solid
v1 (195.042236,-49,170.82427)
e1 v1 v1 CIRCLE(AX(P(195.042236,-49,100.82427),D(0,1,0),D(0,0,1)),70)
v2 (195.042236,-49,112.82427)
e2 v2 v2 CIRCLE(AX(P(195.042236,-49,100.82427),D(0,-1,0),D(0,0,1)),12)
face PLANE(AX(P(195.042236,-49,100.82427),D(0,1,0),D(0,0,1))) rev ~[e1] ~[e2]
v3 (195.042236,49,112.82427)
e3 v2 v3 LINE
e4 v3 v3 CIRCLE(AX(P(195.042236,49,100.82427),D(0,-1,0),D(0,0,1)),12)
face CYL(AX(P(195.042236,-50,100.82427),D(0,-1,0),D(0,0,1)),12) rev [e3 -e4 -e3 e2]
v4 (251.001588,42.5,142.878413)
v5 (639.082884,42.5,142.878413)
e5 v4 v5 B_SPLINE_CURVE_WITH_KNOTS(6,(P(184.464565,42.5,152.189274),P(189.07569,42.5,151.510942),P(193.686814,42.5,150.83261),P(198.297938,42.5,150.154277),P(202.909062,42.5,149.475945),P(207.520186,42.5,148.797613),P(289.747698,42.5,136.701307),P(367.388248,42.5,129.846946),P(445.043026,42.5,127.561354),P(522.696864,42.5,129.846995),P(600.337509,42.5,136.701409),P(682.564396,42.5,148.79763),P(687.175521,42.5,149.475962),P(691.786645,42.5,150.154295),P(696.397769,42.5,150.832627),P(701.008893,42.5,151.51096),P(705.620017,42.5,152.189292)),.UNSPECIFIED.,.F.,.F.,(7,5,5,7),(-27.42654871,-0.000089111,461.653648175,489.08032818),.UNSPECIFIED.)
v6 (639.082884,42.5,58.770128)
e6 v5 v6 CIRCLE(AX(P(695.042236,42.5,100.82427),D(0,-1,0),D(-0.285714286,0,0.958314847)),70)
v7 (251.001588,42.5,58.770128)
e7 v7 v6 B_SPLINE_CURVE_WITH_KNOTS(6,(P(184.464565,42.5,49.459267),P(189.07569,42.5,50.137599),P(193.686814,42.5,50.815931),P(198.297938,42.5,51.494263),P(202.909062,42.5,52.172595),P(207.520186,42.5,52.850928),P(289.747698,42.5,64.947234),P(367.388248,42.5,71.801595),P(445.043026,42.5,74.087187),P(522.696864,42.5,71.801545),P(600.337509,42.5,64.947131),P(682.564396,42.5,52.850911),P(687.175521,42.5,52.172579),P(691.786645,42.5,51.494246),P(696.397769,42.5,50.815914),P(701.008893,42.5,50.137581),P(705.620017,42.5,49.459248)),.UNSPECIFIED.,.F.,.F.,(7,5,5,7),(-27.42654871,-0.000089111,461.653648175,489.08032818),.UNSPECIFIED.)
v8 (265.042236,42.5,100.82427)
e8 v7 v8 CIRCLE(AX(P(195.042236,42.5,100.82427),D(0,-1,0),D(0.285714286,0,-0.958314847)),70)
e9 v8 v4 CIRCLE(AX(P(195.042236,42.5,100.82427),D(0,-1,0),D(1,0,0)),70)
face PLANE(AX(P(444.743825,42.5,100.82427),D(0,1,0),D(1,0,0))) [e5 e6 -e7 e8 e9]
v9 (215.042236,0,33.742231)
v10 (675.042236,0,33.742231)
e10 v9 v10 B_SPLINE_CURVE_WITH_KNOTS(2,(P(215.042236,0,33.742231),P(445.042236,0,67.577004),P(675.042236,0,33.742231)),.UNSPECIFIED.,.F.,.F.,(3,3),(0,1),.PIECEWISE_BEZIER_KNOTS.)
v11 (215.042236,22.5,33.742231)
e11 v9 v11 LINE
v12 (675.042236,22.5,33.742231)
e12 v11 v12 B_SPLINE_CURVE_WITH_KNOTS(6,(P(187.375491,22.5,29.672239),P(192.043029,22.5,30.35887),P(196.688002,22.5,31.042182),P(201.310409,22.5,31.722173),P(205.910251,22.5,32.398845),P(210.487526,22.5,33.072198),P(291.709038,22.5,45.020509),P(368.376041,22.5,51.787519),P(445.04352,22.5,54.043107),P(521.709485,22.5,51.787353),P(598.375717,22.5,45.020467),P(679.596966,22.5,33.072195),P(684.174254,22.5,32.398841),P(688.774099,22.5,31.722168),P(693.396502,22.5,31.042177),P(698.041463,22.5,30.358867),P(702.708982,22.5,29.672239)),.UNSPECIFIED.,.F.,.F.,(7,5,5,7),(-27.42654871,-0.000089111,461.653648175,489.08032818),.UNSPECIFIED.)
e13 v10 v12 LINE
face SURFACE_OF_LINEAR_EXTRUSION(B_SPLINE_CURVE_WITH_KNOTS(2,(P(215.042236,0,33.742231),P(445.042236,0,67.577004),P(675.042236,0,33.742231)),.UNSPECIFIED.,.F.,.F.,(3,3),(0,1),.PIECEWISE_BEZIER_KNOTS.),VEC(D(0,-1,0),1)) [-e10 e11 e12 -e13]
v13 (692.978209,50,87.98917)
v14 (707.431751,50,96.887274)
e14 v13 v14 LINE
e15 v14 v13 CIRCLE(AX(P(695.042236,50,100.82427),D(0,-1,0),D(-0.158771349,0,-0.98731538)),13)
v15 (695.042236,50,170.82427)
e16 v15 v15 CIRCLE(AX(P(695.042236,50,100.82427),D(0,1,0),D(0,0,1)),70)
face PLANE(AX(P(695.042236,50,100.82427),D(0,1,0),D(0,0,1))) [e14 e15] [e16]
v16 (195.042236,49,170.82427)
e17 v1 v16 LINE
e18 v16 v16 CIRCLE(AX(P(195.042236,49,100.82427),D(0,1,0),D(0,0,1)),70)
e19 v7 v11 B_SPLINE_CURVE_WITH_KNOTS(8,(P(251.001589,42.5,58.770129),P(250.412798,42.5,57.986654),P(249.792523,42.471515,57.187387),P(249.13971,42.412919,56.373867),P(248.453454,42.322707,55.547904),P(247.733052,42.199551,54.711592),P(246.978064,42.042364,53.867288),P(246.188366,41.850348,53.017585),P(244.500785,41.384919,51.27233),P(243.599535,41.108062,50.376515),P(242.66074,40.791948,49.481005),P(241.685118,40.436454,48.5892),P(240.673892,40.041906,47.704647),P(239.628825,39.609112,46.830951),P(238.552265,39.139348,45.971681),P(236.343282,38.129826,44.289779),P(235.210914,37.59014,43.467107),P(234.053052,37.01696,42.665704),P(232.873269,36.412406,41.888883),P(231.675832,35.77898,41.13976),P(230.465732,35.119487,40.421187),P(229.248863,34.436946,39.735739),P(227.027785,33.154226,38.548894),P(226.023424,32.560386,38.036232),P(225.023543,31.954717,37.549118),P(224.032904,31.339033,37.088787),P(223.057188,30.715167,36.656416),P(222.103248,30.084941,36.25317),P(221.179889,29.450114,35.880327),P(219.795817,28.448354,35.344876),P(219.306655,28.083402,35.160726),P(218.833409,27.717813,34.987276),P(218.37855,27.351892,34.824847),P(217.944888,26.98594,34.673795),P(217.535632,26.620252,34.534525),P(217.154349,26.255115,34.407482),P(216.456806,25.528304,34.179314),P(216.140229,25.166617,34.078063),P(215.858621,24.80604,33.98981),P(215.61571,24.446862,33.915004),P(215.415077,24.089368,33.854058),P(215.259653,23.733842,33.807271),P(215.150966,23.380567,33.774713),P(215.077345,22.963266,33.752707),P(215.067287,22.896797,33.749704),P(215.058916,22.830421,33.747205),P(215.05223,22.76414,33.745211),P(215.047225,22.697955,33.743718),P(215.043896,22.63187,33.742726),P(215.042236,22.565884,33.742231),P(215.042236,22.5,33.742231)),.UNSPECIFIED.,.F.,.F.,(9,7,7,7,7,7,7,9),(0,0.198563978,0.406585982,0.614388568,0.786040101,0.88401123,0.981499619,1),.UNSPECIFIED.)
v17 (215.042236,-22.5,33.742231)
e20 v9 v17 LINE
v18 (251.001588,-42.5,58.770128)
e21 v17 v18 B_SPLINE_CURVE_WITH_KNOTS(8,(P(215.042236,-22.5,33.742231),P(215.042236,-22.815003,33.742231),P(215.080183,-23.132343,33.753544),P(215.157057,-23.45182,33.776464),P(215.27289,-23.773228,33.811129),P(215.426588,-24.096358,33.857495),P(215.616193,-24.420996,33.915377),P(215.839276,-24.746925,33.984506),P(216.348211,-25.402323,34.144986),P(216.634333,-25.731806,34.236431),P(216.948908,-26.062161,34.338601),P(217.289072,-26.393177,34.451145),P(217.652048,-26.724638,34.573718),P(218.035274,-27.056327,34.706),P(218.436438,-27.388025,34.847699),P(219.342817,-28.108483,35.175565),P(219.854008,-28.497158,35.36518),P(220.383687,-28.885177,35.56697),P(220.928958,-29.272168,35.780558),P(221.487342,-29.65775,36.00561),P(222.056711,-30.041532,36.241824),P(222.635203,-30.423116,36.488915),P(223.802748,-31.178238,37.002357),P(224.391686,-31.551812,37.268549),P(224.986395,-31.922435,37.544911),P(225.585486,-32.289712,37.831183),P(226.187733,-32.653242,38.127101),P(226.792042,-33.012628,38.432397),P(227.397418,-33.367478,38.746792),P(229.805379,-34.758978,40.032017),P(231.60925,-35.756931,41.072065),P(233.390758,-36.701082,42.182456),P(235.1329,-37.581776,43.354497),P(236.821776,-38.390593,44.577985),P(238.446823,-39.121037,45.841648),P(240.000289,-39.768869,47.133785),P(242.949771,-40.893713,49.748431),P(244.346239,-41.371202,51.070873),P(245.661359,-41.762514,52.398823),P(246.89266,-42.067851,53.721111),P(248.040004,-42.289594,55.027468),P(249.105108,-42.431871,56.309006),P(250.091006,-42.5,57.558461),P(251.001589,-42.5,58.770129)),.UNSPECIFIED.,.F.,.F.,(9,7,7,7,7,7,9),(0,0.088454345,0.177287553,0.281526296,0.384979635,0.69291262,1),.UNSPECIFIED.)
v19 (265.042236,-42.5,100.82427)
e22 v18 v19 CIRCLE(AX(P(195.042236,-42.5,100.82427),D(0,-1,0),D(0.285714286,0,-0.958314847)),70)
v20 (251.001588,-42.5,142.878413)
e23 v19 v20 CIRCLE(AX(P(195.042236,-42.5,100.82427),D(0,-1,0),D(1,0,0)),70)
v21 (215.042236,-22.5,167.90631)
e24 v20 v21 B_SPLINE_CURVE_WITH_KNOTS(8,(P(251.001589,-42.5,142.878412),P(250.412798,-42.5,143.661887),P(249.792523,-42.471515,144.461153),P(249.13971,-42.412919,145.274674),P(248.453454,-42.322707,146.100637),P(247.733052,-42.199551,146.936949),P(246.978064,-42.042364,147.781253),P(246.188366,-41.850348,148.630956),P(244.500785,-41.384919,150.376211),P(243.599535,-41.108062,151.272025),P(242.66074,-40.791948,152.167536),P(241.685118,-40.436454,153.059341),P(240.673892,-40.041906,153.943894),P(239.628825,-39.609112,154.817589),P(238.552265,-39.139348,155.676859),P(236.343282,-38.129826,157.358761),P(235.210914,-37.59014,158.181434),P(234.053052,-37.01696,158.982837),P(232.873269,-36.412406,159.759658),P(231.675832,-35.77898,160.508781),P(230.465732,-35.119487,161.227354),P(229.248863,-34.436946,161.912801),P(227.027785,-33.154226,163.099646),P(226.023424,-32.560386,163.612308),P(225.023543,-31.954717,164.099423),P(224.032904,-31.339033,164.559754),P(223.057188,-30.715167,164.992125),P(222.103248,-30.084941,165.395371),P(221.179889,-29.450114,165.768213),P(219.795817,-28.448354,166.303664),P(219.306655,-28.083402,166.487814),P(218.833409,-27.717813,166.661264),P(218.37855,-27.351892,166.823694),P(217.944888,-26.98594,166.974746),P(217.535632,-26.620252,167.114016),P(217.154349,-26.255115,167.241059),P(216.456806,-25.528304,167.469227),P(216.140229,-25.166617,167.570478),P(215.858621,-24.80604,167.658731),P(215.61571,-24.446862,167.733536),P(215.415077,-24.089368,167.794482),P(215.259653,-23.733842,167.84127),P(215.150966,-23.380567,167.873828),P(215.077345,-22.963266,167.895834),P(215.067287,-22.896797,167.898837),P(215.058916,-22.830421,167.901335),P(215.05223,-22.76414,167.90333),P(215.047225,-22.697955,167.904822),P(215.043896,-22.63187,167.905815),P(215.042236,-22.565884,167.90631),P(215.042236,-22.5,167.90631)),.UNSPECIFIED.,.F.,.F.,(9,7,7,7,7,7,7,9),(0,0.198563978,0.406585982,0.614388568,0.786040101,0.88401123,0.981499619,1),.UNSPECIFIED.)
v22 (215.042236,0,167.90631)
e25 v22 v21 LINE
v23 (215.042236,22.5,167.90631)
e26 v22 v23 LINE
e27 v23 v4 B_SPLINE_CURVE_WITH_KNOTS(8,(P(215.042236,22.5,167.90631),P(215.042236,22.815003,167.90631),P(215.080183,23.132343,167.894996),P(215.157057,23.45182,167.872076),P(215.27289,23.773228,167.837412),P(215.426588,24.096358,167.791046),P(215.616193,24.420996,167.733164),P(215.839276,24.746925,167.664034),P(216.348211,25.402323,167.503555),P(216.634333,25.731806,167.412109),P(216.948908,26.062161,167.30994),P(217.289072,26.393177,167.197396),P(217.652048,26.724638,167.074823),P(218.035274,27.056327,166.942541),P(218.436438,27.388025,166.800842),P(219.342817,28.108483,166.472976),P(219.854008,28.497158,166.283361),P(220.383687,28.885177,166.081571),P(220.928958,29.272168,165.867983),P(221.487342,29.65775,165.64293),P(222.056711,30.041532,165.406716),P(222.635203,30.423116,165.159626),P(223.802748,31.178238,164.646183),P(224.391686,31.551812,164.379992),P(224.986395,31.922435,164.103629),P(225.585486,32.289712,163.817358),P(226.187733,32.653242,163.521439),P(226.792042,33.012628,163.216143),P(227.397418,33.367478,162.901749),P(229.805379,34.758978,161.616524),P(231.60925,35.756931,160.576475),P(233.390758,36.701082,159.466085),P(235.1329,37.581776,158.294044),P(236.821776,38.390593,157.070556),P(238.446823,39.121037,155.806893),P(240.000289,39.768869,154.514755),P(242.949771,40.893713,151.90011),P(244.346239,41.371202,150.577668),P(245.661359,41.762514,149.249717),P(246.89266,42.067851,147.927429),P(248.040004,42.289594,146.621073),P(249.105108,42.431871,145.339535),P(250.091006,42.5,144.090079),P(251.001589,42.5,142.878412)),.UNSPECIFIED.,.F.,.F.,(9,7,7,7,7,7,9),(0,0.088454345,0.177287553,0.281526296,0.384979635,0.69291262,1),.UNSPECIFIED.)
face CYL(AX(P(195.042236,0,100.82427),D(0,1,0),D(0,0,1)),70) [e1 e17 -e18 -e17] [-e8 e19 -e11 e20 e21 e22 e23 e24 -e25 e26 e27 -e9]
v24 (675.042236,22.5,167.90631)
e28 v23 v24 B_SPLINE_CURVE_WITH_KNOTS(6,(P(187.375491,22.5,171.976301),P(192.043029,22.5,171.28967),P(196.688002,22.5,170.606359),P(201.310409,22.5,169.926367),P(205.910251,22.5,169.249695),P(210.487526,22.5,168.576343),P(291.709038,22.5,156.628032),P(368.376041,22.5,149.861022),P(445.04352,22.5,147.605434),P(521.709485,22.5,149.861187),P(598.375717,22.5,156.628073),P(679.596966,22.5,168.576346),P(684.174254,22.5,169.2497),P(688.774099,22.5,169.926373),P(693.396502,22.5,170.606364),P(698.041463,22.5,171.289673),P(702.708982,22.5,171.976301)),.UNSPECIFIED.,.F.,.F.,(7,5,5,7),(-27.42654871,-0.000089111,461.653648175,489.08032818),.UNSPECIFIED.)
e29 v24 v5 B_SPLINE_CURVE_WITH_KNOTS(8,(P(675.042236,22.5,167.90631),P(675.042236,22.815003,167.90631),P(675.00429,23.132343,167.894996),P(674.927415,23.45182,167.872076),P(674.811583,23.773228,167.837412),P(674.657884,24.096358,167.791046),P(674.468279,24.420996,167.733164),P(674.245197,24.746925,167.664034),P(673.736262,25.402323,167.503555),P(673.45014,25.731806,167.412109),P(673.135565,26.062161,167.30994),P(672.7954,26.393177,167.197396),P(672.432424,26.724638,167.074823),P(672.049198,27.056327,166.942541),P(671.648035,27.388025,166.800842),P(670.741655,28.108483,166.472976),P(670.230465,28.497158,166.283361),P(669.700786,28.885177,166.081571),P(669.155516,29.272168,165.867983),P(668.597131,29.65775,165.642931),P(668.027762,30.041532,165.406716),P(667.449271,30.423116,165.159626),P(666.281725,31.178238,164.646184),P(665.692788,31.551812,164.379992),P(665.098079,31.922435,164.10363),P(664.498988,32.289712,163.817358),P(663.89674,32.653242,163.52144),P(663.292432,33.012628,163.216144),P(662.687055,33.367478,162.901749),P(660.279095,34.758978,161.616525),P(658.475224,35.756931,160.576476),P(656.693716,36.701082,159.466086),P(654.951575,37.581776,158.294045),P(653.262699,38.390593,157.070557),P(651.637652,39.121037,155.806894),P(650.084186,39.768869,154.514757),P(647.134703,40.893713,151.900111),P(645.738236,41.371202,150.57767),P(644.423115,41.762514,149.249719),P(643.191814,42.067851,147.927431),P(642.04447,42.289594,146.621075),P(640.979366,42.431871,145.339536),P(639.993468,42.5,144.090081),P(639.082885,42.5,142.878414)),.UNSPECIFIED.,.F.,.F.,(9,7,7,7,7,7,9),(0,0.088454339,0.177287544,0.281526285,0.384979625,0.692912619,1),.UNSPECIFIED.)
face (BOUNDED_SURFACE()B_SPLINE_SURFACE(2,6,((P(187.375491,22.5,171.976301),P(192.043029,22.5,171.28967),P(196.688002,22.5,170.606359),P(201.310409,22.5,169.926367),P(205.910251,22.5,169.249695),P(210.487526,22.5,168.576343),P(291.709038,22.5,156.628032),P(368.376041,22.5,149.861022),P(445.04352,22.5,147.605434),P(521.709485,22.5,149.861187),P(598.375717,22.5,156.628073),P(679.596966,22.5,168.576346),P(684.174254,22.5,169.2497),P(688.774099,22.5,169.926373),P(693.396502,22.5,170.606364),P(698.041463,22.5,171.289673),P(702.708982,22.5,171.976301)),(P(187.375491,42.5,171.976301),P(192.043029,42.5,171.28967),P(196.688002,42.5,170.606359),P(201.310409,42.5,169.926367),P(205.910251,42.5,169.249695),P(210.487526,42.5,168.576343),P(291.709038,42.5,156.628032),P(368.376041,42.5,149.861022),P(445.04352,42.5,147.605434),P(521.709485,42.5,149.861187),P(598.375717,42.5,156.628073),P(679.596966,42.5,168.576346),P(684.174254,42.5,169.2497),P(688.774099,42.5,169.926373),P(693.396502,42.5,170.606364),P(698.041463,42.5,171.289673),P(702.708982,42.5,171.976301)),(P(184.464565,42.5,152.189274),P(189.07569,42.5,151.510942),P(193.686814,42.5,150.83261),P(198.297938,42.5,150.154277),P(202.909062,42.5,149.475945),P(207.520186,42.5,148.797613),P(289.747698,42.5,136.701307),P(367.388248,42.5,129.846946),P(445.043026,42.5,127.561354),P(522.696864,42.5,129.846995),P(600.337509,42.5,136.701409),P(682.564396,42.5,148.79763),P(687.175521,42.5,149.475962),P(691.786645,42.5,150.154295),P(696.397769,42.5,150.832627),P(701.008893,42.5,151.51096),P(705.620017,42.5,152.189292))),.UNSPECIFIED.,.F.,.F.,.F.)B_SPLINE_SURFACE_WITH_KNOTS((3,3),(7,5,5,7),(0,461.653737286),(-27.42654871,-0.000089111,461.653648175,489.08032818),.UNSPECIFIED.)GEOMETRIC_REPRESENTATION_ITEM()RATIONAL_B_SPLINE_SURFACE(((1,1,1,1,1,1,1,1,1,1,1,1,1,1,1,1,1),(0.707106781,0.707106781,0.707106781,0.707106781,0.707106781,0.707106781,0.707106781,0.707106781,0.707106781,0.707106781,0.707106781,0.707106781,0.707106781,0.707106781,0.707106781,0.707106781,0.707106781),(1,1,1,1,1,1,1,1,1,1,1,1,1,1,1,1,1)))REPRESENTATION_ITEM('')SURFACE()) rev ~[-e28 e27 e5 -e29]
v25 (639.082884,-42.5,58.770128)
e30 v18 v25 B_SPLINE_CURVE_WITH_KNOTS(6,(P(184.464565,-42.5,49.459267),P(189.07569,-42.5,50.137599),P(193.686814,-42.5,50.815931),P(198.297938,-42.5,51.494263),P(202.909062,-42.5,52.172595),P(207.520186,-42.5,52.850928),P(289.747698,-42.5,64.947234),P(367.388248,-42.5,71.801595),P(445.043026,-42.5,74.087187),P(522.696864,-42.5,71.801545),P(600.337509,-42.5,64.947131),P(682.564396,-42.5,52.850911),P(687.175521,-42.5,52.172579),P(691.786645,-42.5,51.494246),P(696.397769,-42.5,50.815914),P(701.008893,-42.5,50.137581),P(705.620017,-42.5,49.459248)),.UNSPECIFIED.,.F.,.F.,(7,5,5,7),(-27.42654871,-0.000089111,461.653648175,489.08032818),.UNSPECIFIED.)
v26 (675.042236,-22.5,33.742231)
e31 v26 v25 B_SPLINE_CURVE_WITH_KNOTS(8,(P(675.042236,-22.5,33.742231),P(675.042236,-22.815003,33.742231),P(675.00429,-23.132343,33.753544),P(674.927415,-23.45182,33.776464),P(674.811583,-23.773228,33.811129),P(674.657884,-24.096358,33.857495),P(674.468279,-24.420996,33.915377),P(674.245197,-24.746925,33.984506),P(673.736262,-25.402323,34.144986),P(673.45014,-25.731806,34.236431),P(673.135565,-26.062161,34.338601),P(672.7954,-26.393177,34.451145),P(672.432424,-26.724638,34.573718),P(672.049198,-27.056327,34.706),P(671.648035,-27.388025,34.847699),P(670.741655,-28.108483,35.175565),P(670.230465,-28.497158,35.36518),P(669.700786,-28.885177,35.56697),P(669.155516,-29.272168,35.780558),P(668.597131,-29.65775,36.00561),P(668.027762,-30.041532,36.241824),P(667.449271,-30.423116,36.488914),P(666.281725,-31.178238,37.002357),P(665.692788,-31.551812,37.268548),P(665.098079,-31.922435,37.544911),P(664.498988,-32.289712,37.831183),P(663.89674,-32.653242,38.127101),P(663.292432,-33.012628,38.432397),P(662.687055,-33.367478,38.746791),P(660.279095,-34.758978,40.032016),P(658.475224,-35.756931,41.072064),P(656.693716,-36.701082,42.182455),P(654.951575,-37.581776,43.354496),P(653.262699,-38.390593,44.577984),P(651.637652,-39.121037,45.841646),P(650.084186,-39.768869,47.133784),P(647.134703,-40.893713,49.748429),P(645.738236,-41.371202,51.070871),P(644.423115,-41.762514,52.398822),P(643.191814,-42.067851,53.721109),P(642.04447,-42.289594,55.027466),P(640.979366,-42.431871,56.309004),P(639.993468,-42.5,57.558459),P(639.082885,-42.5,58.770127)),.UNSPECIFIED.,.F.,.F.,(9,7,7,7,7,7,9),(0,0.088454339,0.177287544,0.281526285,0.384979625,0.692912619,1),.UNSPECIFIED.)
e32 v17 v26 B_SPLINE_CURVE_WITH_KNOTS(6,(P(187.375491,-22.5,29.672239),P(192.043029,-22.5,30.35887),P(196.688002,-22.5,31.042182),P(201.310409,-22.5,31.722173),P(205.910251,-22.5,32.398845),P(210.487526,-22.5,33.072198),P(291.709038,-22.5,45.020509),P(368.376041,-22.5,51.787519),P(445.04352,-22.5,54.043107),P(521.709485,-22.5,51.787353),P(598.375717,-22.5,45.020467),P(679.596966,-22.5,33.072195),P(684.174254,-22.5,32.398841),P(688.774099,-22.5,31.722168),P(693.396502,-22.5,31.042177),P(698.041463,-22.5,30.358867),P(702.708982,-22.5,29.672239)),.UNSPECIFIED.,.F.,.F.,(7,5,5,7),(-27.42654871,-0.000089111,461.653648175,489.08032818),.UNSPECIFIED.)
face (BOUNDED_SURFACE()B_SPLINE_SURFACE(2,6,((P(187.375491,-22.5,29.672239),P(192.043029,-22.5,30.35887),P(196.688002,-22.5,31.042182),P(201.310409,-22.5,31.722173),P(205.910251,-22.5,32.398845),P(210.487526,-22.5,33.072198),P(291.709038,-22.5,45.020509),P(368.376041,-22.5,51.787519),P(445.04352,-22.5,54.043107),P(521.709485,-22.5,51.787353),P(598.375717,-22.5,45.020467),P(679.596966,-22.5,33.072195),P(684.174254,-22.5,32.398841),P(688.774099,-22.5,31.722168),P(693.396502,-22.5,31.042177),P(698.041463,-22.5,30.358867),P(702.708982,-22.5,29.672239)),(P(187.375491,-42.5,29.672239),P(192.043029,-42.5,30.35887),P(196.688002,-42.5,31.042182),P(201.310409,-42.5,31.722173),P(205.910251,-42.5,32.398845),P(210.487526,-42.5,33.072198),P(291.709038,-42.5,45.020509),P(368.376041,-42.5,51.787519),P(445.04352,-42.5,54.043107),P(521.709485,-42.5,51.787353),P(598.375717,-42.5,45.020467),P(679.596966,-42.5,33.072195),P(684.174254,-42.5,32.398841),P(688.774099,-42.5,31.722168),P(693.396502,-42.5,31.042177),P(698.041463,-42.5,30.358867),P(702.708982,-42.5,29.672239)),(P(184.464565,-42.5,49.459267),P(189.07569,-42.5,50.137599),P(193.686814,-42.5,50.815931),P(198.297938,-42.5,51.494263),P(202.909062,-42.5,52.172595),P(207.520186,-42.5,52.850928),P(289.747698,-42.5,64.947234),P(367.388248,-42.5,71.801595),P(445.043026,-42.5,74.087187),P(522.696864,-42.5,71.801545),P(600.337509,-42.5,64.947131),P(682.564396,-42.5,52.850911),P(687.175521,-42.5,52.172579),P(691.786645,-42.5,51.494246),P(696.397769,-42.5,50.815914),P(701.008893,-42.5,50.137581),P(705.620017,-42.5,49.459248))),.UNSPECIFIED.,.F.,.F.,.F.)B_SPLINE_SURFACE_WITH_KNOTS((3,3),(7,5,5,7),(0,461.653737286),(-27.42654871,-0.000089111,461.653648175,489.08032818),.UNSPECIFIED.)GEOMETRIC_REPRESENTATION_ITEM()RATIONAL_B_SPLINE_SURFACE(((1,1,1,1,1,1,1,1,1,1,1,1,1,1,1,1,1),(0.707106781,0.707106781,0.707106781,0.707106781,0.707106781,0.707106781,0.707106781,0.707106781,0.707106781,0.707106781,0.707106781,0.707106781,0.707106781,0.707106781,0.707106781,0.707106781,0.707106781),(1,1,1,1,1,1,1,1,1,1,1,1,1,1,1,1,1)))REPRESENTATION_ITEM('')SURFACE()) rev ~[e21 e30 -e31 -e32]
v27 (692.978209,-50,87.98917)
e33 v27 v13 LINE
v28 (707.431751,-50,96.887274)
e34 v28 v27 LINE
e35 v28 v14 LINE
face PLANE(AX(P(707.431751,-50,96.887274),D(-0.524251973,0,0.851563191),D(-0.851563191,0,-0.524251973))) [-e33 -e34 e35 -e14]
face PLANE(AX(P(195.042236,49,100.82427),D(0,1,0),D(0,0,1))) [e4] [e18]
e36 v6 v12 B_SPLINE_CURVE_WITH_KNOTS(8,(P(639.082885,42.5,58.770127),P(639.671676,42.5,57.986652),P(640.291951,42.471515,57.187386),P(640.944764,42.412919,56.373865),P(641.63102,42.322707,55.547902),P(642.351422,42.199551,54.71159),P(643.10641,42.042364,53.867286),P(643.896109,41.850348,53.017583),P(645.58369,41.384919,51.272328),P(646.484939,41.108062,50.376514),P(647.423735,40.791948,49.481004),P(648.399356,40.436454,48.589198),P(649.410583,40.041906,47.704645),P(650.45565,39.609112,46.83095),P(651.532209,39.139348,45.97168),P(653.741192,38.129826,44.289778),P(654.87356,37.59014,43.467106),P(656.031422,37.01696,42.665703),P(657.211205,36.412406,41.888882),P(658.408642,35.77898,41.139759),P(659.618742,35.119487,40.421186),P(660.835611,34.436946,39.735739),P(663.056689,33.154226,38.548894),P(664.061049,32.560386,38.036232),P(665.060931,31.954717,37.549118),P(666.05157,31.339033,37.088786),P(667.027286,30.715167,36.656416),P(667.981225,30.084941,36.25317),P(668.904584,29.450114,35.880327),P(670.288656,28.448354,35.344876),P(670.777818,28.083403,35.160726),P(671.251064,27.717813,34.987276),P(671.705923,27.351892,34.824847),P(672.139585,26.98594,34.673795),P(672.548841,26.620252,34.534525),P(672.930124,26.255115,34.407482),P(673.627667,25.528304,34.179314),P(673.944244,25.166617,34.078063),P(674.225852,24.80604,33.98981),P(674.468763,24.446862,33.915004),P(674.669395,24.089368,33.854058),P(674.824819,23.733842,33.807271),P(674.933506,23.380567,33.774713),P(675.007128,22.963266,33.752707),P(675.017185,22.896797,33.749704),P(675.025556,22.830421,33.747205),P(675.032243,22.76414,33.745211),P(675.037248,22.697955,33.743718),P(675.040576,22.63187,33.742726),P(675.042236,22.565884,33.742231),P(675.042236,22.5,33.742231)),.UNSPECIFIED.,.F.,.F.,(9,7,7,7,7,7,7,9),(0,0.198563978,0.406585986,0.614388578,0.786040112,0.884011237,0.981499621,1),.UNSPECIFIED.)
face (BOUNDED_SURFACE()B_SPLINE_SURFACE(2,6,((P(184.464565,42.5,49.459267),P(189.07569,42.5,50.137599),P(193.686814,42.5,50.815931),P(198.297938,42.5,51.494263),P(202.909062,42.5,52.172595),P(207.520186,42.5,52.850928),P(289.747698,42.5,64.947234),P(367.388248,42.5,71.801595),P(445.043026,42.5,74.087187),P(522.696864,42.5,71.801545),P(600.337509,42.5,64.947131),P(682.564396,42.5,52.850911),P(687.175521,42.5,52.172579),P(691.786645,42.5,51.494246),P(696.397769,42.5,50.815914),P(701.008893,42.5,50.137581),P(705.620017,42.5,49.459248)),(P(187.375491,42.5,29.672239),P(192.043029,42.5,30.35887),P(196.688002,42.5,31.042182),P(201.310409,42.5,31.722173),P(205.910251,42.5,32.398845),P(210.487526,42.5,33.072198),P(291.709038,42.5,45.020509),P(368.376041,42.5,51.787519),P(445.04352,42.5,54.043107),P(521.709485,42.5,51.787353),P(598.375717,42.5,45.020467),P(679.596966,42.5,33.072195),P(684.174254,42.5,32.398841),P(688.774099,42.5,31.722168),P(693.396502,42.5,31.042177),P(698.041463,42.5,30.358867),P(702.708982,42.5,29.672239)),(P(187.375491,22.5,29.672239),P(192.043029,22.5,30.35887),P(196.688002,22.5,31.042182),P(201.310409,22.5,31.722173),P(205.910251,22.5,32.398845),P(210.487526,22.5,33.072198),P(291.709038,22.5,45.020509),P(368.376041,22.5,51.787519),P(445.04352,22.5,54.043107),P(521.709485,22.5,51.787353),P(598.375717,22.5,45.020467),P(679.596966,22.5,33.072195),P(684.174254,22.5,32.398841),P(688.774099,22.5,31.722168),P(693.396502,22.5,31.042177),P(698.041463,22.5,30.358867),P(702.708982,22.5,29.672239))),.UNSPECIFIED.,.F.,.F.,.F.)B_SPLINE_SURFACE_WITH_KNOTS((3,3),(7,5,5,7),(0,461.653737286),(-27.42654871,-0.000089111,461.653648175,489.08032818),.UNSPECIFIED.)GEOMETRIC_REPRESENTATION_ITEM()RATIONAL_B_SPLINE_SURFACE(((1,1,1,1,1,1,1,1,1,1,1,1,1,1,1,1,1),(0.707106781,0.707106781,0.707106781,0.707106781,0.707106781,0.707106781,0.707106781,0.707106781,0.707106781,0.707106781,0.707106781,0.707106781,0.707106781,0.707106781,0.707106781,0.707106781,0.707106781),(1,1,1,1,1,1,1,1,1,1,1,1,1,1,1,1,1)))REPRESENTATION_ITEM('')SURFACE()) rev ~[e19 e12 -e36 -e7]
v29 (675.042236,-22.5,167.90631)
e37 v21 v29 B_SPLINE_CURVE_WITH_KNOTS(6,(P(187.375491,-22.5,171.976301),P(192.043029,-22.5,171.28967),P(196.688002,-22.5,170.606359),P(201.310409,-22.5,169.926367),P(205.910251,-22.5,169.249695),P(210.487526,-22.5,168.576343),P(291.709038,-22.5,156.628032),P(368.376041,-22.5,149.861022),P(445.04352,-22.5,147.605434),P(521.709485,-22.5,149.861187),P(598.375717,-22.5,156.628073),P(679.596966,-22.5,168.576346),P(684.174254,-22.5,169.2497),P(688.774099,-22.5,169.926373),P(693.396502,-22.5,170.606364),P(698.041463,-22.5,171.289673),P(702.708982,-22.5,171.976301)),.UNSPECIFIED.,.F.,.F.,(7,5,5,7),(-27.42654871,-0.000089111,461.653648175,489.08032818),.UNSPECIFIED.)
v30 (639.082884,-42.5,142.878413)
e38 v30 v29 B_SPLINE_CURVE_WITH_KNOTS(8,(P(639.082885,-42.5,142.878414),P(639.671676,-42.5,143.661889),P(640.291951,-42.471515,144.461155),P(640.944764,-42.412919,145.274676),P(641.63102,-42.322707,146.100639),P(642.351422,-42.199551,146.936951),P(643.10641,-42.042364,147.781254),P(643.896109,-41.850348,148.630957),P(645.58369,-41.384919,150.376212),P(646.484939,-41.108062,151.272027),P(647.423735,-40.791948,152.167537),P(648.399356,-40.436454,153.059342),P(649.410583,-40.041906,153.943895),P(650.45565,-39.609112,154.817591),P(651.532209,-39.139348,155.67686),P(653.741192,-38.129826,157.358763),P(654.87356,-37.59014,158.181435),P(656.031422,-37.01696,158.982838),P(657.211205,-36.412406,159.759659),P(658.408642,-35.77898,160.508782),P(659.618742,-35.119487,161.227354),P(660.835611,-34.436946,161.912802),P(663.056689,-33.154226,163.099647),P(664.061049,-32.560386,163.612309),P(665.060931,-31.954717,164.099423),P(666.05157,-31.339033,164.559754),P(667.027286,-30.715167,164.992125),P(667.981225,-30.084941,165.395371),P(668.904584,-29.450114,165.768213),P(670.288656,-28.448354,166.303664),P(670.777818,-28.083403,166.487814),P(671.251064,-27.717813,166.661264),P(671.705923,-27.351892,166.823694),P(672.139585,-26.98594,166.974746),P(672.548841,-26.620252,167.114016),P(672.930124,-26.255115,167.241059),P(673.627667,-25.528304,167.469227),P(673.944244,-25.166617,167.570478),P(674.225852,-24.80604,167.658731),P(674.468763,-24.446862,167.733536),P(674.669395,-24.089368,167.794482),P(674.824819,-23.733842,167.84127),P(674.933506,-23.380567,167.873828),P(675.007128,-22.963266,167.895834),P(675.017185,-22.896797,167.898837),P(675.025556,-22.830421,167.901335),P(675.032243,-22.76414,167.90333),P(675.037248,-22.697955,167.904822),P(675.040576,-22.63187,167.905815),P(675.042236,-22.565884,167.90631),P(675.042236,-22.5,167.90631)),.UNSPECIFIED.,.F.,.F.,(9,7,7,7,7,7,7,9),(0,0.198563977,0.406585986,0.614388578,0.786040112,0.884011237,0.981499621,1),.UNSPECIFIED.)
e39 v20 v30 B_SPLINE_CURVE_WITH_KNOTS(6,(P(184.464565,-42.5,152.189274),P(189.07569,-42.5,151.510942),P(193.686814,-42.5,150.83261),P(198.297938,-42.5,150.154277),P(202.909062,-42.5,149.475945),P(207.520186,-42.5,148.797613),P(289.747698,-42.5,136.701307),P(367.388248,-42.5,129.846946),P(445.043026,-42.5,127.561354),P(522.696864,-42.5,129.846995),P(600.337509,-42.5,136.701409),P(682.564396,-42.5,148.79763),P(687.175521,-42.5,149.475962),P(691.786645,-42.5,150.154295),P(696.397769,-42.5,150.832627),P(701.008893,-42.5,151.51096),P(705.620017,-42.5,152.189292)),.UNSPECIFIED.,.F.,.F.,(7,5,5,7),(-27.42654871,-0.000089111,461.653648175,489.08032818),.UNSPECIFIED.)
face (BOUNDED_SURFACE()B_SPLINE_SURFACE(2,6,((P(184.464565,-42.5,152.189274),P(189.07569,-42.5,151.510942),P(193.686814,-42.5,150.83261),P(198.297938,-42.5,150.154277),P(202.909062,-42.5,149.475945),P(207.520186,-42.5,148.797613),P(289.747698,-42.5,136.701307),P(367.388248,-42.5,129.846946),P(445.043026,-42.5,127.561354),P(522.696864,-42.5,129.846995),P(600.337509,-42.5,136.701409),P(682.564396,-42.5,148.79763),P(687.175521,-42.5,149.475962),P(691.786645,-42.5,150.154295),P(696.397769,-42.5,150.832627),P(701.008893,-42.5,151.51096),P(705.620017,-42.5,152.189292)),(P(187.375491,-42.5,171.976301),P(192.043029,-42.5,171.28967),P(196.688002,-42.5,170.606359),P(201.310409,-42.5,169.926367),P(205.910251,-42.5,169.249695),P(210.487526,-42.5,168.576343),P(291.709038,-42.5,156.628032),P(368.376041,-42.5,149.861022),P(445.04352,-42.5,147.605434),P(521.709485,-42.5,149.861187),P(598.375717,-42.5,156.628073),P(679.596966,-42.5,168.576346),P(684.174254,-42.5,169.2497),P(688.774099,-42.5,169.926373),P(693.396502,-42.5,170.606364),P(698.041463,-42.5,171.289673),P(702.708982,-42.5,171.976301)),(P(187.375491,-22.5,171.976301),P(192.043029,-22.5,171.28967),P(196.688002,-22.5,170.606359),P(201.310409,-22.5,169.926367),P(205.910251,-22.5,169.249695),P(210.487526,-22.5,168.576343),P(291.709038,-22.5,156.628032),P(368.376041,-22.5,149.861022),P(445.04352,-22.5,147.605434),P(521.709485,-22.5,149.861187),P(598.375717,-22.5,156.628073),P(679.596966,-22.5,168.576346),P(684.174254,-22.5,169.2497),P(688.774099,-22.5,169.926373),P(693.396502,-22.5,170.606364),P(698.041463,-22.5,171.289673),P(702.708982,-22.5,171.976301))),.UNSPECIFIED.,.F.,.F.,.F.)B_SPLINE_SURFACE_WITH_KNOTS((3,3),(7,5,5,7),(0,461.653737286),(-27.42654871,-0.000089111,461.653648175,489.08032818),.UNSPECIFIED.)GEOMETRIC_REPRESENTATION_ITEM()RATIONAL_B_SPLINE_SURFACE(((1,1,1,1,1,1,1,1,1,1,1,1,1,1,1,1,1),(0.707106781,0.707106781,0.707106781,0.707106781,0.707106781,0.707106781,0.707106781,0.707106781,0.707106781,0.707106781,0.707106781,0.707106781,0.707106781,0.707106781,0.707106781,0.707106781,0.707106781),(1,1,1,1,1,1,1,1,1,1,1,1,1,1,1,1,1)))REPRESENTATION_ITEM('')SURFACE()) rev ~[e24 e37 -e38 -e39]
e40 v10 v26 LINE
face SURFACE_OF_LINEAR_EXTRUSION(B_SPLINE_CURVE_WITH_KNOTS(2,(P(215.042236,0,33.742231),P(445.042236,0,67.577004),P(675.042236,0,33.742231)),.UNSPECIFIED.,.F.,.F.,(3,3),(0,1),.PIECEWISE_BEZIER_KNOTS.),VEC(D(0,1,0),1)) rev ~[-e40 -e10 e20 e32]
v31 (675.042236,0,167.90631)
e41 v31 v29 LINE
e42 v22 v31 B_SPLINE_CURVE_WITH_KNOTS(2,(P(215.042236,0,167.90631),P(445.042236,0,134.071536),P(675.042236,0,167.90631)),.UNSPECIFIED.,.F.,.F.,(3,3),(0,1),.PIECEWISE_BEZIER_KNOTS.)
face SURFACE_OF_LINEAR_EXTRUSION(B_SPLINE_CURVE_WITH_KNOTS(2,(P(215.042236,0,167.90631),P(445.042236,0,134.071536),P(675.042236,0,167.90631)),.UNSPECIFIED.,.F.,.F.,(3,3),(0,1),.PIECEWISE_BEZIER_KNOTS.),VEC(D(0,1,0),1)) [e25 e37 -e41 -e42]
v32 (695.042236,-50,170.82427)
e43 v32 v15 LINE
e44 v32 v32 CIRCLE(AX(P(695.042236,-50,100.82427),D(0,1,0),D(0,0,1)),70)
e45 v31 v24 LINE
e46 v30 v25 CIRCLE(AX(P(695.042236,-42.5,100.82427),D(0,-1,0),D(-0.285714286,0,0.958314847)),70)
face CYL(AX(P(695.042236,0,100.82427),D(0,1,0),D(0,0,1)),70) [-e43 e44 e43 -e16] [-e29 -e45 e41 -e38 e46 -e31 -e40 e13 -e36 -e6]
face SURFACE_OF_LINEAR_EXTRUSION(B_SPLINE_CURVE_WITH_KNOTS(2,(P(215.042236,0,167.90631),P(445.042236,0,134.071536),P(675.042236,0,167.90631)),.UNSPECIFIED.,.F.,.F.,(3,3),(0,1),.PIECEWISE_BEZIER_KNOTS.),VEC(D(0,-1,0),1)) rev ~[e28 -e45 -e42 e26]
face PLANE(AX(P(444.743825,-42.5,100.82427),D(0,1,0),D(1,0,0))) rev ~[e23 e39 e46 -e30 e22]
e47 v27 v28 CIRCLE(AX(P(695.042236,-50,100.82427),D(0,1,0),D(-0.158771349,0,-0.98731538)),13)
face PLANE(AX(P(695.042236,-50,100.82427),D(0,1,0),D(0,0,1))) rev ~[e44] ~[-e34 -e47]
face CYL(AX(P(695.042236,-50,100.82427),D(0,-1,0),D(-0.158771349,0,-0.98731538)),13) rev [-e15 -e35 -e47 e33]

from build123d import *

# Parameters (mm, degrees)
BOSS_EXTRUDE3_DEPTH  = 42.5
SKETCH5_3_R          = 70
BOSS_EXTRUDE4_DEPTH  = 49
SKETCH5_6_R          = 70
BOSS_EXTRUDE11_DEPTH = 50
FILLET5_R            = 20
SKETCH6_R            = 12
CUT_EXTRUDE1_DEPTH   = 112
CUT_EXTRUDE2_DEPTH   = 151


with BuildPart() as part:
    # Sketch5 → Boss-Extrude3 (new, symmetric)
    with BuildSketch(Plane(origin=(0, 0, 0), x_dir=(1, 0, 0), z_dir=(0, 1, 0))):
        with BuildLine():
            ThreePointArc((215.042236358, -33.742230992), (251.167097159, -58.991268991), (265.042236358, -100.824270317))
            ThreePointArc((265.042236358, -100.824270317), (251.167097159, -142.657271644), (215.042236358, -167.906309642))
            add(Edge.make_bspline(
                [(215.042236358, -167.906309642), (445.042236358, -134.071536156), (675.042236358, -167.906309642)],
                knots=[0, 0, 0, 1, 1, 1], degree=2))
            ThreePointArc((675.042236358, -167.906309642), (625.042236358, -100.824270317), (675.042236358, -33.742230992))
            add(Edge.make_bspline(
                [(215.042236358, -33.742230992), (445.042236358, -67.577004479), (675.042236358, -33.742230992)],
                knots=[0, 0, 0, 1, 1, 1], degree=2))
        make_face()
    extrude(amount=BOSS_EXTRUDE3_DEPTH, both=True)

    # Sketch5<3> → Boss-Extrude4 (add, symmetric)
    with BuildSketch(Plane(origin=(0, 0, 0), x_dir=(1, 0, 0), z_dir=(0, 1, 0))):
        with Locations(Location((195.042236358, -100.824270317, 0), (0, 0, 270))):
            Circle(SKETCH5_3_R)
    extrude(amount=BOSS_EXTRUDE4_DEPTH, both=True)

    # Sketch5<6> → Boss-Extrude11 (add, symmetric)
    with BuildSketch(Plane(origin=(0, 0, 0), x_dir=(1, 0, 0), z_dir=(0, 1, 0))):
        with Locations(Location((695.042236358, -100.824270317, 0), (0, 0, 270))):
            Circle(SKETCH5_6_R)
    extrude(amount=BOSS_EXTRUDE11_DEPTH, both=True)

    # Fillet5
    fillet5_edges = [part.edges().sort_by_distance(p)[0] for p in [
        (445.042236357, 42.5, 150.988922899),
        (445.042236357, 42.5, 50.659617736),
        (445.042236357, -42.5, 150.988922899),
        (445.042236357, -42.5, 50.659617736),
    ]]
    fillet(fillet5_edges, radius=FILLET5_R)

    # Sketch6 → Cut-Extrude1 (cut)
    with BuildSketch(Plane(origin=(0, -50, 0), x_dir=(1, 0, 0), z_dir=(0, 1, 0))):
        with Locations(Location((195.042236357, -100.824270318, 0), (0, 0, 270))):
            Circle(SKETCH6_R)
    extrude(amount=CUT_EXTRUDE1_DEPTH, mode=Mode.SUBTRACT)

    # Sketch10 → Cut-Extrude2 (cut)
    with BuildSketch(Plane.XZ.offset(50)):
        with BuildLine():
            Line((707.431750575, 96.887274325), (692.978208818, 87.989170384))
            ThreePointArc((692.978208818, 87.989170384), (688.226960704, 111.894591803), (707.431750575, 96.887274325))
        make_face()
    extrude(amount=-CUT_EXTRUDE2_DEPTH, mode=Mode.SUBTRACT)


solid = part.part
